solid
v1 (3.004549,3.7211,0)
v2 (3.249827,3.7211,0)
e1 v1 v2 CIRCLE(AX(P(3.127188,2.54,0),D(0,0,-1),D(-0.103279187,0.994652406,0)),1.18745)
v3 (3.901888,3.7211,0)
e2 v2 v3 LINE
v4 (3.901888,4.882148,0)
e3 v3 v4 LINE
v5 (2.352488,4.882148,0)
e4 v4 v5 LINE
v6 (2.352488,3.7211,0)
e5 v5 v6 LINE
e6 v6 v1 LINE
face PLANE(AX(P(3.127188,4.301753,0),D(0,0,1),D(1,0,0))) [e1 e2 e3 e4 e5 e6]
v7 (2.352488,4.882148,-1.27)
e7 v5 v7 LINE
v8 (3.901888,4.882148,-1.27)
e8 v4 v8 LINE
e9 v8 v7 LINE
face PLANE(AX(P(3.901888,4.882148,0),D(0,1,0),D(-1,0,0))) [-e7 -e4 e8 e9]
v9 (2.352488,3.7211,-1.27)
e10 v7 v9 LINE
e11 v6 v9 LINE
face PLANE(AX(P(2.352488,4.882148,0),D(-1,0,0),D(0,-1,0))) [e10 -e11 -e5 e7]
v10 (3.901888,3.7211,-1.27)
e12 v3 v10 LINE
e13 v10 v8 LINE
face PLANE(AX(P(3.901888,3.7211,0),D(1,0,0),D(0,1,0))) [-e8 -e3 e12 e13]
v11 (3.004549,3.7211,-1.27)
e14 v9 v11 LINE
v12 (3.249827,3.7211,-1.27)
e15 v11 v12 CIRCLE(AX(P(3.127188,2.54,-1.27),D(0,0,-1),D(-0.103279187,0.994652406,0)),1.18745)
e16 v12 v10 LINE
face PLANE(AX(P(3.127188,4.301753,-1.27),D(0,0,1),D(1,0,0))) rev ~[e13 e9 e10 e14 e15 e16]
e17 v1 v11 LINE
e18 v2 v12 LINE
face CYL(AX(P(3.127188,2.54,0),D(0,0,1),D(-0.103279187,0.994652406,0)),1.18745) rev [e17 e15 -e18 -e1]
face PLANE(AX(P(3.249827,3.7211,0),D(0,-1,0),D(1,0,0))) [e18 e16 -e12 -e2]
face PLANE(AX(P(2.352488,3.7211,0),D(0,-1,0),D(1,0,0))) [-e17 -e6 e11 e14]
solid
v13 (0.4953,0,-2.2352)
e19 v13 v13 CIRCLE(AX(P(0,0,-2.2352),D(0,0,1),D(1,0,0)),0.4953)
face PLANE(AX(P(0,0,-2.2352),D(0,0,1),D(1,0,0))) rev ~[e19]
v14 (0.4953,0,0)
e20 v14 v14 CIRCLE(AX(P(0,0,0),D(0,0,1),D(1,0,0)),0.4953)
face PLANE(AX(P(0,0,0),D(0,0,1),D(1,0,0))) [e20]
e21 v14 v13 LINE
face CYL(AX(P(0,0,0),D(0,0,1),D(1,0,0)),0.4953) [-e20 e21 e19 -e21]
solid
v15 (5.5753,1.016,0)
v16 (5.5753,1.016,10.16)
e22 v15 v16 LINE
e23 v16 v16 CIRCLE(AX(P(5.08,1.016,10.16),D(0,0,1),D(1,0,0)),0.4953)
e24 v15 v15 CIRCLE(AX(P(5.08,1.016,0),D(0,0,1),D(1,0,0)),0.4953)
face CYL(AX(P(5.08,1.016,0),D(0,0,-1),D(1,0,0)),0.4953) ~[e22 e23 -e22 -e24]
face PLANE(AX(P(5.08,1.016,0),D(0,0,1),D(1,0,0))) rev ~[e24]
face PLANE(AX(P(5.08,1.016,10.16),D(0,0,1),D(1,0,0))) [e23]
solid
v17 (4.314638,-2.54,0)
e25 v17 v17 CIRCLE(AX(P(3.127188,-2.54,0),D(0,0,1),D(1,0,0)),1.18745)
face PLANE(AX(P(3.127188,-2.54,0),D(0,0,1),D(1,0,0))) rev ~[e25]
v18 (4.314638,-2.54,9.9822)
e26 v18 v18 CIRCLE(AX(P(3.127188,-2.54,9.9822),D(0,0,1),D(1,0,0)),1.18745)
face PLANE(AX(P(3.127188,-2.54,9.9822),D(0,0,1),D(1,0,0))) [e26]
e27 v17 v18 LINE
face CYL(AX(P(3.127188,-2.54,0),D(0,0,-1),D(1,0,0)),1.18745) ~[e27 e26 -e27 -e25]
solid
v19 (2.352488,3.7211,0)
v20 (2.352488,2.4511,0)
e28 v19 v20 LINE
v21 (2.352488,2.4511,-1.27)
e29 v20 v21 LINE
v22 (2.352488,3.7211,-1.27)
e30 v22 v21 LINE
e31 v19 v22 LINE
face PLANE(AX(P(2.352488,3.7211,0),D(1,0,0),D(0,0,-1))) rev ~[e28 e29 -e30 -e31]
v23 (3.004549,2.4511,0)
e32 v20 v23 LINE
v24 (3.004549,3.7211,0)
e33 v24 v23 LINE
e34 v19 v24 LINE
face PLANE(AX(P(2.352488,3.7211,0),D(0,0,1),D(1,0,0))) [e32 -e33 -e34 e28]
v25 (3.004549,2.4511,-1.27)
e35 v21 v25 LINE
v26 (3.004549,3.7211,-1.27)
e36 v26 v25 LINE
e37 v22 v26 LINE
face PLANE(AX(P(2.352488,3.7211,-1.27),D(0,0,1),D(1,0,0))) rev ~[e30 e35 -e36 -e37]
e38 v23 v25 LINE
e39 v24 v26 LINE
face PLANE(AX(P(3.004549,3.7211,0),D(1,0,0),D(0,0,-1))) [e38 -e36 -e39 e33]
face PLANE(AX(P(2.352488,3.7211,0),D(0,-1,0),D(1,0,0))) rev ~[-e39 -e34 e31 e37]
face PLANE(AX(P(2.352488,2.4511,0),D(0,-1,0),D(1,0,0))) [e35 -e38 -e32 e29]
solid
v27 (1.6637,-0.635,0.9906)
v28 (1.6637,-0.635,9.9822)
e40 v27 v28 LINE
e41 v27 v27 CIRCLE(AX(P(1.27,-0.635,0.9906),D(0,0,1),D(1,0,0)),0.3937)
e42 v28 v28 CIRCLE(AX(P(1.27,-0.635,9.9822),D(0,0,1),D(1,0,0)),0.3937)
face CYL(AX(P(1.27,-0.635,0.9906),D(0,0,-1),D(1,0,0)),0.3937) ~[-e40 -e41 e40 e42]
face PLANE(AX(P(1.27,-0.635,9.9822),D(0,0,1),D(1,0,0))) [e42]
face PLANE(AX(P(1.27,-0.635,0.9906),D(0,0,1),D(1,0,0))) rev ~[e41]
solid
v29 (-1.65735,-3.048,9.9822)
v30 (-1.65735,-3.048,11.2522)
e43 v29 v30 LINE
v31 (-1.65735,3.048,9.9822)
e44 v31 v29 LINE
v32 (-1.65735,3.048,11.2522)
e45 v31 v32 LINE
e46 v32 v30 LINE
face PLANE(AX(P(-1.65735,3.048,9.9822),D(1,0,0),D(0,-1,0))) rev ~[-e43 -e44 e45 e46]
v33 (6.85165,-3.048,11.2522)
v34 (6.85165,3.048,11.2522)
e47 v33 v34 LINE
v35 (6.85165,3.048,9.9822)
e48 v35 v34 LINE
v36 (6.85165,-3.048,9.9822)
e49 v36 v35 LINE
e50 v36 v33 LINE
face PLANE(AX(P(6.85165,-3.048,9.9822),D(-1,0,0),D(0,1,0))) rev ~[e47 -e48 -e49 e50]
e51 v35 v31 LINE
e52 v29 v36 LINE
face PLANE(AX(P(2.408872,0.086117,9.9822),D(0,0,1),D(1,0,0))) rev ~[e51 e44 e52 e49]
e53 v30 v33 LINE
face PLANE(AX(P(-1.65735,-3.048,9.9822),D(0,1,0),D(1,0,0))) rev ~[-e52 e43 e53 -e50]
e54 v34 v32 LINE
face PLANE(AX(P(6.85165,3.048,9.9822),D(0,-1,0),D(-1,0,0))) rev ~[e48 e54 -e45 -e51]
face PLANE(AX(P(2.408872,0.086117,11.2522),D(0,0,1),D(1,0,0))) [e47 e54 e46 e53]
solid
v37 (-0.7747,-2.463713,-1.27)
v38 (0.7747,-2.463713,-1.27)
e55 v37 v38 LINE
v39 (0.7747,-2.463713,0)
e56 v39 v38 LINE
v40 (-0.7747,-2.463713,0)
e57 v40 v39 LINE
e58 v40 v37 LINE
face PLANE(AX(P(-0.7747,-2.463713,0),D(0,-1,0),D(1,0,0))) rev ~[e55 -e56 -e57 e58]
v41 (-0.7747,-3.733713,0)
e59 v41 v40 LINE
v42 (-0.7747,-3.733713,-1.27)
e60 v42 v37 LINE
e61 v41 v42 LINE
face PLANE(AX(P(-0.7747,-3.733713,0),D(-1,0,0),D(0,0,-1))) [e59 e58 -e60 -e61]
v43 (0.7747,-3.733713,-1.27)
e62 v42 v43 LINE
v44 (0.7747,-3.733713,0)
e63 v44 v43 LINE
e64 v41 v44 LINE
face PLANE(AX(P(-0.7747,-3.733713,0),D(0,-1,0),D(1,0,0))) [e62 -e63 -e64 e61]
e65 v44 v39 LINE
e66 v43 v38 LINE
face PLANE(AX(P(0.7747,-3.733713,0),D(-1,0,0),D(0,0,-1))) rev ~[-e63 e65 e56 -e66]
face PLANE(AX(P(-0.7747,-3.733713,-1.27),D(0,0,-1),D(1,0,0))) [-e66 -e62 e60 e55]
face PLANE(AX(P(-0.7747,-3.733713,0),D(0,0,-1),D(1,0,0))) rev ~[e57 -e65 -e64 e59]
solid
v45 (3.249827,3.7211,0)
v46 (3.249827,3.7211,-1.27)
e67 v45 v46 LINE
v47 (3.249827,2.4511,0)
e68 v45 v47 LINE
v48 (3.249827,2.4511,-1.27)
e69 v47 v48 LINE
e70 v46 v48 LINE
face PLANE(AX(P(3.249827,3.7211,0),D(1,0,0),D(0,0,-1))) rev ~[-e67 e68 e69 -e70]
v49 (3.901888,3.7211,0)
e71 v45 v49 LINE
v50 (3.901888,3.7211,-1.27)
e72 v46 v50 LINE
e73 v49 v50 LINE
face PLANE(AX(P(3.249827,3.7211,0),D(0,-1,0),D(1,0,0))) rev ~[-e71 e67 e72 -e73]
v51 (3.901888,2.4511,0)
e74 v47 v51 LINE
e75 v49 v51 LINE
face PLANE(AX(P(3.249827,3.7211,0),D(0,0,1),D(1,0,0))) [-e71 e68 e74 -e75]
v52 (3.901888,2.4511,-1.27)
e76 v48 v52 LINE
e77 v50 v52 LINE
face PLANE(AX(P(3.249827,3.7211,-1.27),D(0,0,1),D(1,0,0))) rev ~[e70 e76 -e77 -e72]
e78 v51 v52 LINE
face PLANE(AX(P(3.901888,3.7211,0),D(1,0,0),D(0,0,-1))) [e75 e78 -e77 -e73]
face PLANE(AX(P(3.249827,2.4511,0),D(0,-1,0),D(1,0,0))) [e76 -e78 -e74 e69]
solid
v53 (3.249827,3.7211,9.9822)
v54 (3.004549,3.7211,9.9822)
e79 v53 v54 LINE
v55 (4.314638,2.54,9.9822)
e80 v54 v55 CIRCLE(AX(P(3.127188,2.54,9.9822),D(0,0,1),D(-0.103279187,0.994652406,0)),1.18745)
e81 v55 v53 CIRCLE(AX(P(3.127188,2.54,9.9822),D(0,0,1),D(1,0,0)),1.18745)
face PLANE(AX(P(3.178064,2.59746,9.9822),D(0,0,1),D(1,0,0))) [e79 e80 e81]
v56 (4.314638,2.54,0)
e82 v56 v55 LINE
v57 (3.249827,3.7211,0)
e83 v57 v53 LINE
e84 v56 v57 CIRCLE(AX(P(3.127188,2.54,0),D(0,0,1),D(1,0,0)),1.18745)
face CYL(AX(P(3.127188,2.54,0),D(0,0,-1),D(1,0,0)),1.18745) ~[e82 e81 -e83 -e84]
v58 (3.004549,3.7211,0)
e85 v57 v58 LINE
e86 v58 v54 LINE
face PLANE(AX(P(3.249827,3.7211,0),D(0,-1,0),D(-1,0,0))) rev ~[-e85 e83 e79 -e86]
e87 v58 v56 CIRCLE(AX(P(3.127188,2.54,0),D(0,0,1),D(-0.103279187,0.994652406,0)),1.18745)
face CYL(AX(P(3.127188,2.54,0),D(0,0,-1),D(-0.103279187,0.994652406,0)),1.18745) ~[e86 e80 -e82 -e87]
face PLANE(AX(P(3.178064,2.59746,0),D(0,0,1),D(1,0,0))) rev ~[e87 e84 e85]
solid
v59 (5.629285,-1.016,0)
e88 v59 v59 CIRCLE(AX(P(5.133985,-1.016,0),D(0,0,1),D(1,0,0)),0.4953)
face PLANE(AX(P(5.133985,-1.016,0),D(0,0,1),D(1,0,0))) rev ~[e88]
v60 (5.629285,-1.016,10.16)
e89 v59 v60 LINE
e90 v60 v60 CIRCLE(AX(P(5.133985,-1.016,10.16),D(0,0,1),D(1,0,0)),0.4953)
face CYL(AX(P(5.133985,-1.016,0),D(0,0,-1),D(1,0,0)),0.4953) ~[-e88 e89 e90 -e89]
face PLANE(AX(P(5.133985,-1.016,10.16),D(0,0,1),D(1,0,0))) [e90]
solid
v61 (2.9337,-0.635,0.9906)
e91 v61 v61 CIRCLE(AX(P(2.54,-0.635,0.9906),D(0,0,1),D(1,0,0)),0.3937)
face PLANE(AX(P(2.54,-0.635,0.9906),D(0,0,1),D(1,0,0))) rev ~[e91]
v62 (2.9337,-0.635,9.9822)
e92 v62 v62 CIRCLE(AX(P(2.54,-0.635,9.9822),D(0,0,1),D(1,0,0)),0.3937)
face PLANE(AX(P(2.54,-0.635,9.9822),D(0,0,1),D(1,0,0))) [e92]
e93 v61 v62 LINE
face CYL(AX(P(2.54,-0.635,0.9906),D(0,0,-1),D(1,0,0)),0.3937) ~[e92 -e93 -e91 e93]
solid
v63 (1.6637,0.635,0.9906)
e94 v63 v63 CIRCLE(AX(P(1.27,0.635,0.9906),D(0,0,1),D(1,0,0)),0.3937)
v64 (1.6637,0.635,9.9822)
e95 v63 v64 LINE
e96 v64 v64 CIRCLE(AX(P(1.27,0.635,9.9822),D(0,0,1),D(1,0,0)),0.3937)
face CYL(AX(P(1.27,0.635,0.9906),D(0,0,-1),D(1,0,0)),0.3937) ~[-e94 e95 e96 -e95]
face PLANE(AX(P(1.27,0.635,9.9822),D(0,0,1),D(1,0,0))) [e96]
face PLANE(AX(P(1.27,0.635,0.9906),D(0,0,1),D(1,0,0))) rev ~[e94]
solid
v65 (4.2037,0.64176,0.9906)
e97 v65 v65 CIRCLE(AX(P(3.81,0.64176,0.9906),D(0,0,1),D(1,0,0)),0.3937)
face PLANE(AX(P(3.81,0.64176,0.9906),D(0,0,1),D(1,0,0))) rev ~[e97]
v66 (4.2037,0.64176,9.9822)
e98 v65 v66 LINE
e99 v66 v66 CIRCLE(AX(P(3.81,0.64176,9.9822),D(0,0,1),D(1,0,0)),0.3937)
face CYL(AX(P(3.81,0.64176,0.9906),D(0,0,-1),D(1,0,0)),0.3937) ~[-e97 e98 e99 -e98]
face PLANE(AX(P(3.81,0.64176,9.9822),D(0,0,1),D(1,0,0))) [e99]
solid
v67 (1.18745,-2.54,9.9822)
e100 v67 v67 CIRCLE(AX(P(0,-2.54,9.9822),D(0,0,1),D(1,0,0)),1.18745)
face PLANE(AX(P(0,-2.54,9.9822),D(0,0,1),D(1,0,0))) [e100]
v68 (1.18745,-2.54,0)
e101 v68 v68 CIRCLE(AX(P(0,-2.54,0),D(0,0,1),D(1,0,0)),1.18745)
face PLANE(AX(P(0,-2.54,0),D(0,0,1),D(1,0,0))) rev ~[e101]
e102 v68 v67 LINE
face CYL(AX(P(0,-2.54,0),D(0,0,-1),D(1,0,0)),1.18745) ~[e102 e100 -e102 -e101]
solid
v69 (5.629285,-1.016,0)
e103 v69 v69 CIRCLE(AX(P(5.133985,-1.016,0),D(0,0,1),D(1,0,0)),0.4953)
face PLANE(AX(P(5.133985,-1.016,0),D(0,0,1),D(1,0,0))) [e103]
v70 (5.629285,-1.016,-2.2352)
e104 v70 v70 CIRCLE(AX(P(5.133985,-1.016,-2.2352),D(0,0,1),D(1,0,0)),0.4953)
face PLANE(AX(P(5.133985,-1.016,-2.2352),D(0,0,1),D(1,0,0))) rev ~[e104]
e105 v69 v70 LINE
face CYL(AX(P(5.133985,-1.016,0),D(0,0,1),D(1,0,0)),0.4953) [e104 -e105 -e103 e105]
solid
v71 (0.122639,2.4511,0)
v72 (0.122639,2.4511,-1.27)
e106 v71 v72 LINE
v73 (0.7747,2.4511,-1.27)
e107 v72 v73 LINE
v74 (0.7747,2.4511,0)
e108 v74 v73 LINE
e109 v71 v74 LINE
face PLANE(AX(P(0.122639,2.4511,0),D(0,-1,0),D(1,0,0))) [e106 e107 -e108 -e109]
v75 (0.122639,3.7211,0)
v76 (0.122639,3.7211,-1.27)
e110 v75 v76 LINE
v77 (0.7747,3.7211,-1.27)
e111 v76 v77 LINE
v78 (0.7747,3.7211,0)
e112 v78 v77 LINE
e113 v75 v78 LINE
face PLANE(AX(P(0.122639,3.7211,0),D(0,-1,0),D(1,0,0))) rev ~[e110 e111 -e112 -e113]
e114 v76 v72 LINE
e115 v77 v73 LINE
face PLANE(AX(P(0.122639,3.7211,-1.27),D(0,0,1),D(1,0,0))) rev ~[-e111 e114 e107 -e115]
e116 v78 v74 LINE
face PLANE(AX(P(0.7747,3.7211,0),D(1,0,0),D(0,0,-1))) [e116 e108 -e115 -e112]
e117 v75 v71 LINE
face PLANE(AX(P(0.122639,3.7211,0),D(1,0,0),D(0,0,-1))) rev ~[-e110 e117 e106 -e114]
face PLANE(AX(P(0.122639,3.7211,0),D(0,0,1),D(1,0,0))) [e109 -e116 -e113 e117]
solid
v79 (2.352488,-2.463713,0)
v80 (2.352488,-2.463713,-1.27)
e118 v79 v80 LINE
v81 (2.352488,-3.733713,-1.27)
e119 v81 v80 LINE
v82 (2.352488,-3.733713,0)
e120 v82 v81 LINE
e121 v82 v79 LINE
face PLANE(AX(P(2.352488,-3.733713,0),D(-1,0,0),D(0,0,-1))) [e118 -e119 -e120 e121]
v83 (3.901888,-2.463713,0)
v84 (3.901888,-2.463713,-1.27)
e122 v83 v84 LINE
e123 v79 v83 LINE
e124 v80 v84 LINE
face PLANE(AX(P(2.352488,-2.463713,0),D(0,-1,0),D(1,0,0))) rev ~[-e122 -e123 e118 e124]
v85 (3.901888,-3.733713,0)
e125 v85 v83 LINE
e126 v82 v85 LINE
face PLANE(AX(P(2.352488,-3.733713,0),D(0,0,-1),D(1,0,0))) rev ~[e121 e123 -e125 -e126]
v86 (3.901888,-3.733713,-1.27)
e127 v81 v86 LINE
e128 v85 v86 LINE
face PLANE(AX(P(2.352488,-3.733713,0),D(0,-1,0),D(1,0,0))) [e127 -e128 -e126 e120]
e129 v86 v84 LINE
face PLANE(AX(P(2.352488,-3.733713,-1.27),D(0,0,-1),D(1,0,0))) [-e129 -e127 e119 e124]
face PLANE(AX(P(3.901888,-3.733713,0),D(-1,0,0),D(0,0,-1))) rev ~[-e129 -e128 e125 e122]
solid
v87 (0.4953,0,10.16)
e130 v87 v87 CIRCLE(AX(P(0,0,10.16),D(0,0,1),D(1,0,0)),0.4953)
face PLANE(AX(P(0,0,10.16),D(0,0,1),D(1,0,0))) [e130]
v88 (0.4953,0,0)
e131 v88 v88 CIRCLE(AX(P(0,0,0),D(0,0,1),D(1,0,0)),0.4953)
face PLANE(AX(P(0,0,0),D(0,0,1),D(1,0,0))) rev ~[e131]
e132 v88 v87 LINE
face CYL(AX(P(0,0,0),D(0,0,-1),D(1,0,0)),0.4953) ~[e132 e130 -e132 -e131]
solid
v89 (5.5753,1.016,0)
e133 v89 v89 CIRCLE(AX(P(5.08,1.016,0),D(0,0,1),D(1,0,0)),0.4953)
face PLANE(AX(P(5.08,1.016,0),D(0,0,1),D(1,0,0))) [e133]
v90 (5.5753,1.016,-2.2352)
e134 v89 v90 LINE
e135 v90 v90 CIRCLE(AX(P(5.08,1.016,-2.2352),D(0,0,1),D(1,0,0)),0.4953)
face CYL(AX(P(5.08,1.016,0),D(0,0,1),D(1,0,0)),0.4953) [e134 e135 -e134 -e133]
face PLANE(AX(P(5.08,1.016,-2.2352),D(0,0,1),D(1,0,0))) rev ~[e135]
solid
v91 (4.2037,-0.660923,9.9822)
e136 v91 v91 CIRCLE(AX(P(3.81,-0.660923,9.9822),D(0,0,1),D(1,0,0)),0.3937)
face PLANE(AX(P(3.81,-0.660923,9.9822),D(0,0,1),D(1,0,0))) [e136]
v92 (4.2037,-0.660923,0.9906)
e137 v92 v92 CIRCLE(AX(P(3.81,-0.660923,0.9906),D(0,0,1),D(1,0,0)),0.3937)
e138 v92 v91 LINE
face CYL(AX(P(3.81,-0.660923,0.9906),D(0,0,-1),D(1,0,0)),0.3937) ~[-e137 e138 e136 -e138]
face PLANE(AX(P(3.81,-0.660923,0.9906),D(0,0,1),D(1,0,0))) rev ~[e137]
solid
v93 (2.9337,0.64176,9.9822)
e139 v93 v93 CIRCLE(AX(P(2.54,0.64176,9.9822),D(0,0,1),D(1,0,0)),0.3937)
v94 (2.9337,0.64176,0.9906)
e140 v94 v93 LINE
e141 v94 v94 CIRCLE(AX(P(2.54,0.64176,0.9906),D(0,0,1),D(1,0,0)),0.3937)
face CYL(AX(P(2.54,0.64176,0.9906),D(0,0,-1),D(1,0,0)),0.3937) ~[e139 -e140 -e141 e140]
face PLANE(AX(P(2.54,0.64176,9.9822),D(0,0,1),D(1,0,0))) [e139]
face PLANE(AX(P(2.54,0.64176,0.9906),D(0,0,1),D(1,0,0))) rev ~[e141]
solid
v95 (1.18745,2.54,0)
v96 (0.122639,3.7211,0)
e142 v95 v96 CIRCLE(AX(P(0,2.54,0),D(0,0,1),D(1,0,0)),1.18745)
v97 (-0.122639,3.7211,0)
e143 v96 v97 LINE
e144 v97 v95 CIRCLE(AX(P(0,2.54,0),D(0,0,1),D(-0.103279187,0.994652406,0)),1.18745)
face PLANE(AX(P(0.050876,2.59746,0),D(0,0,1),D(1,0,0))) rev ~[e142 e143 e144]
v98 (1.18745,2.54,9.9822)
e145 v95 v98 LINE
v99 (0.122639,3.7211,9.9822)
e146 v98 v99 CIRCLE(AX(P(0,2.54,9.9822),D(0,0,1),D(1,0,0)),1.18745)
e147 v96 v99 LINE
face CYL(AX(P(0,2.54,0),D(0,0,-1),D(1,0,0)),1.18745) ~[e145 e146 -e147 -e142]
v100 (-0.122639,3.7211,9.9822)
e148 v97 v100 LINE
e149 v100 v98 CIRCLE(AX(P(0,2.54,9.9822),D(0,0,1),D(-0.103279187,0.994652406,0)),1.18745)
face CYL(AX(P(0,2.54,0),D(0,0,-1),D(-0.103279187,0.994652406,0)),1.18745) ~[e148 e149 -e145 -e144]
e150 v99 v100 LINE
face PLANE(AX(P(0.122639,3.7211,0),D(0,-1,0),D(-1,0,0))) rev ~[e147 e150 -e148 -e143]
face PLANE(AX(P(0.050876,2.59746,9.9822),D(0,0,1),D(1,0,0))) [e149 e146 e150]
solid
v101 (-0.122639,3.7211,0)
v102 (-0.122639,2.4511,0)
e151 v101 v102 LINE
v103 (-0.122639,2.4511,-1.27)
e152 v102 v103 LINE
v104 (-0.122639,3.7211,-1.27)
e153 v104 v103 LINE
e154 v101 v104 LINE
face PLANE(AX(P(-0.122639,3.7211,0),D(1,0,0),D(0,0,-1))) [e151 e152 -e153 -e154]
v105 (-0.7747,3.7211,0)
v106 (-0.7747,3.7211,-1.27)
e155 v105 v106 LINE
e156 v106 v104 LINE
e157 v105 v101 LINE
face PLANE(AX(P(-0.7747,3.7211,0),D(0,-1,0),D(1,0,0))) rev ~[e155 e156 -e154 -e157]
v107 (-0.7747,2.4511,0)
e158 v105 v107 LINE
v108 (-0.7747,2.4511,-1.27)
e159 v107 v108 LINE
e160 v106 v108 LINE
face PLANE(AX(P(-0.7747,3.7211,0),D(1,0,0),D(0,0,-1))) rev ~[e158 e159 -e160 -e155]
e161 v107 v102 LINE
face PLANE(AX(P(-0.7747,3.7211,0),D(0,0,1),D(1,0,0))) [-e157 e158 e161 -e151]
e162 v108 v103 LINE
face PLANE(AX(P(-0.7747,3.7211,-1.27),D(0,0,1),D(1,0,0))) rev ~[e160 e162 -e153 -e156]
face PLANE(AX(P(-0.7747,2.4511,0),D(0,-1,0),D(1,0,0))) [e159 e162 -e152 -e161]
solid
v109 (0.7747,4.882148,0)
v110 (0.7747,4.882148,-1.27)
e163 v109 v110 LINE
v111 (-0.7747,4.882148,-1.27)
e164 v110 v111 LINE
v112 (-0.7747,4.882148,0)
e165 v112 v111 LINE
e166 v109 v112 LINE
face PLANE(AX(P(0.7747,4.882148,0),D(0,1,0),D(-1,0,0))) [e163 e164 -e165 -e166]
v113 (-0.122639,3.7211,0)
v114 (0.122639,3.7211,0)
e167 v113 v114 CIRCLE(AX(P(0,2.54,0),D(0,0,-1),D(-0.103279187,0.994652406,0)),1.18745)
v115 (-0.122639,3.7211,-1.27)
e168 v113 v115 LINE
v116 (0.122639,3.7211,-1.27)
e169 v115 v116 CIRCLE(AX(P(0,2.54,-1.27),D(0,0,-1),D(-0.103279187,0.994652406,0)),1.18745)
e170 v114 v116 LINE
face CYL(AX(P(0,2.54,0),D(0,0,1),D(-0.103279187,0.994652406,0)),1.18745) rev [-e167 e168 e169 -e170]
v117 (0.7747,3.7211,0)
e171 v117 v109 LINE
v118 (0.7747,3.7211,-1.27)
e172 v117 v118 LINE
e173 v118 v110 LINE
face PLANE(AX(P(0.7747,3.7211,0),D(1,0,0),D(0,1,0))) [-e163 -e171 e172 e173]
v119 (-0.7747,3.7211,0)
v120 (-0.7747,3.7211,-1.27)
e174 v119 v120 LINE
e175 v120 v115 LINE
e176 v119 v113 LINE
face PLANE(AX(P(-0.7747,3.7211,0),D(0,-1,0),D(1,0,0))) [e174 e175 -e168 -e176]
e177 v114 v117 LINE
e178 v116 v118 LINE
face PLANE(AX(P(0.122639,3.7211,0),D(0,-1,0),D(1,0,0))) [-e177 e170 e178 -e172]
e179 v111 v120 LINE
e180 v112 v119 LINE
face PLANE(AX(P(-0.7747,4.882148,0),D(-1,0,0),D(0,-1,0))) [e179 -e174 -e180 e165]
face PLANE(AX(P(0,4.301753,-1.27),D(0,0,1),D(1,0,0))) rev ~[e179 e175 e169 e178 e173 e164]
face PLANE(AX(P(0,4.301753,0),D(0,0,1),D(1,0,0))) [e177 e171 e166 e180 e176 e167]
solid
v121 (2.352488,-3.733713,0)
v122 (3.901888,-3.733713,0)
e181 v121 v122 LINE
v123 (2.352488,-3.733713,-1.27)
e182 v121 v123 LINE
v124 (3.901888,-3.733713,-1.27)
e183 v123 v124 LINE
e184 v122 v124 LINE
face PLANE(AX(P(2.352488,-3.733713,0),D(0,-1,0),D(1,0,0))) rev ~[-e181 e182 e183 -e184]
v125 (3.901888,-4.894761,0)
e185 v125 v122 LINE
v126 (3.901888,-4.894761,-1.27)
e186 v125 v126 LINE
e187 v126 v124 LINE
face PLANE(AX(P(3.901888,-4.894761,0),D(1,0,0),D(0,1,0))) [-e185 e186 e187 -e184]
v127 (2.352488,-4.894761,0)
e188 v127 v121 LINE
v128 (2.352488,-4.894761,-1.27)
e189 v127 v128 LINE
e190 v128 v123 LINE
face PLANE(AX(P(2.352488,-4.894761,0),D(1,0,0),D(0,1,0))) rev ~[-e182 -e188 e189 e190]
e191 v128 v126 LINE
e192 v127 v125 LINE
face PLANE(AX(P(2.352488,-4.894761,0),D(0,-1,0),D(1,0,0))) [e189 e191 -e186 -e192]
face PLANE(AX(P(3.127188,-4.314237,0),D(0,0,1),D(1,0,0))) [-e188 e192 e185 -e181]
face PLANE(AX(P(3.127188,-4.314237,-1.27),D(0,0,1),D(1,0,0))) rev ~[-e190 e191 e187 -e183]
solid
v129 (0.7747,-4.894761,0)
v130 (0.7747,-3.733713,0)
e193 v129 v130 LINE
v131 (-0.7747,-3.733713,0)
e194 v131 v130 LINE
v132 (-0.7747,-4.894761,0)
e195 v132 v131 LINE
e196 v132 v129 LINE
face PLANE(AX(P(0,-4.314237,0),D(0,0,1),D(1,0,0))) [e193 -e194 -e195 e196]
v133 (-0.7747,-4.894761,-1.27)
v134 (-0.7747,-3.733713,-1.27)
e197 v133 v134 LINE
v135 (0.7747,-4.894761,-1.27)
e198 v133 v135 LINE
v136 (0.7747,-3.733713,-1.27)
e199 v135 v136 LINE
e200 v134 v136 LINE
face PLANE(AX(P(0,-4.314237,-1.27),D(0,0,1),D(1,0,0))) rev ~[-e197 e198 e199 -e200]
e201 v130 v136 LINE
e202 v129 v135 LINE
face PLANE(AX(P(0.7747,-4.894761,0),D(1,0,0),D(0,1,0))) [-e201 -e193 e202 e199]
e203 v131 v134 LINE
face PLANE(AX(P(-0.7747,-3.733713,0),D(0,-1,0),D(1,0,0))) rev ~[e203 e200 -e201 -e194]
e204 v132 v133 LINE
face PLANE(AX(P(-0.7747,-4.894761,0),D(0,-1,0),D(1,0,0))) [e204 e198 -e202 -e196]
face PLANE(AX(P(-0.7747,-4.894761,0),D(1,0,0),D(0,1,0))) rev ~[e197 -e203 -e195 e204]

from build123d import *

# Parameters (mm, degrees)
F1_DEPTH = 1.27
F0_W     = 1.5494
F0_H     = 1.161047956
F0_R     = 0.4953
F2_DEPTH = 2.2352
F0_R_2   = 1.18745
F3_DEPTH = 9.9822
F4_DEPTH = 1.27
F5_DEPTH = 1.27
F6_START = 0.9906
F0_R_3   = 0.3937
F6_DEPTH = 8.9916
F8_DEPTH = 1.27
F9_DEPTH = 10.16


with BuildPart() as f1:
    # F0 (on Top) → F1 (new body)
    with BuildSketch(Plane.XY):
        with BuildLine():
            ThreePointArc((-0.1226388703, 3.7211), (0, 3.72745), (0.1226388703, 3.7211))
            Line((0.1226388703, 3.7211), (0.7747, 3.7211))
            Line((0.7747, 3.7211), (0.7747, 4.882147956))
            Line((0.7747, 4.882147956), (-0.7747, 4.882147956))
            Line((-0.7747, 4.882147956), (-0.7747, 3.7211))
            Line((-0.7747, 3.7211), (-0.1226388703, 3.7211))
        make_face()
    extrude(amount=-F1_DEPTH)


with BuildPart() as f1b:
    # F0 (on Top) → F1, piece 2 (new body)
    with BuildSketch(Plane.XY):
        with BuildLine():
            ThreePointArc((3.0045490859, 3.7211), (3.1271879561, 3.72745), (3.2498268264, 3.7211))
            Line((3.2498268264, 3.7211), (3.9018879561, 3.7211))
            Line((3.9018879561, 3.7211), (3.9018879561, 4.882147956))
            Line((3.9018879561, 4.882147956), (2.3524879561, 4.882147956))
            Line((2.3524879561, 4.882147956), (2.3524879561, 3.7211))
            Line((2.3524879561, 3.7211), (3.0045490859, 3.7211))
        make_face()
    extrude(amount=-F1_DEPTH)


with BuildPart() as f1c:
    # F0 (on Top) → F1, piece 3 (new body)
    with BuildSketch(Plane.XY):
        with Locations((0, -4.3142373906)):
            Rectangle(F0_W, F0_H)
    extrude(amount=-F1_DEPTH)


with BuildPart() as f1d:
    # F0 (on Top) → F1, piece 4 (new body)
    with BuildSketch(Plane.XY):
        with Locations((3.1271879561, -4.3142373906)):
            Rectangle(F0_W, F0_H)
    extrude(amount=-F1_DEPTH)


with BuildPart() as f2:
    # F0 (on Top) → F2 (new body)
    with BuildSketch(Plane.XY):
        with Locations((5.1339846104, -1.016)):
            Circle(F0_R)
    extrude(amount=-F2_DEPTH)


with BuildPart() as f2b:
    # F0 (on Top) → F2, piece 2 (new body)
    with BuildSketch(Plane.XY):
        with Locations((5.08, 1.016)):
            Circle(F0_R)
    extrude(amount=-F2_DEPTH)


with BuildPart() as f2c:
    # F0 (on Top) → F2, piece 3 (new body)
    with BuildSketch(Plane.XY):
        Circle(F0_R)
    extrude(amount=-F2_DEPTH)


with BuildPart() as f3:
    # F0 (on Top) → F3 (new body)
    with BuildSketch(Plane.XY):
        with Locations((0, -2.54)):
            Circle(F0_R_2)
        with Locations((3.1271879561, -2.54)):
            Circle(F0_R_2)
        with BuildLine():
            ThreePointArc((3.0045490859, 3.7211), (2.3320747642, 1.6580518641), (4.3146379561, 2.54))
            ThreePointArc((4.3146379561, 2.54), (4.0091360921, 3.3351131919), (3.2498268264, 3.7211))
            Line((3.2498268264, 3.7211), (3.0045490859, 3.7211))
        make_face()
        with BuildLine():
            ThreePointArc((-0.1226388703, 3.7211), (-0.7951131919, 1.6580518641), (1.18745, 2.54))
            ThreePointArc((1.18745, 2.54), (0.8819481359, 3.3351131919), (0.1226388703, 3.7211))
            Line((0.1226388703, 3.7211), (-0.1226388703, 3.7211))
        make_face()
    extrude(amount=F3_DEPTH)


with BuildPart() as f4:
    # F4 (new): a face of the model
    f4_faces = [f1.part.faces().sort_by_distance(p)[0] for p in [
        (0.4486694351, 3.7211, -0.635),
    ]]
    extrude(f4_faces, amount=F4_DEPTH)


with BuildPart() as f4b:
    # F4#2 (new): a face of the model
    f4_2_faces = [f1.part.faces().sort_by_distance(p)[0] for p in [
        (-0.4486694351, 3.7211, -0.635),
    ]]
    extrude(f4_2_faces, amount=F4_DEPTH)


with BuildPart() as f4c:
    # F4#3 (new): a face of the model
    f4_3_faces = [f1b.part.faces().sort_by_distance(p)[0] for p in [
        (2.678518521, 3.7211, -0.635),
    ]]
    extrude(f4_3_faces, amount=F4_DEPTH)


with BuildPart() as f4d:
    # F4#4 (new): a face of the model
    f4_4_faces = [f1b.part.faces().sort_by_distance(p)[0] for p in [
        (3.5758573913, 3.7211, -0.635),
    ]]
    extrude(f4_4_faces, amount=F4_DEPTH)


with BuildPart() as f5:
    # F5 (new): a face of the model
    f5_faces = [f1c.part.faces().sort_by_distance(p)[0] for p in [
        (0, -3.7337134127, -0.635),
    ]]
    extrude(f5_faces, amount=F5_DEPTH)


with BuildPart() as f5b:
    # F5#2 (new): a face of the model
    f5_2_faces = [f1d.part.faces().sort_by_distance(p)[0] for p in [
        (3.1271879561, -3.7337134127, -0.635),
    ]]
    extrude(f5_2_faces, amount=F5_DEPTH)


with BuildPart() as f6:
    # F0 (on Top) → F6 (new body)
    with BuildSketch(Plane.XY.offset(F6_START)):
        with Locations((3.81, -0.660923452)):
            Circle(F0_R_3)
    extrude(amount=F6_DEPTH)


with BuildPart() as f6b:
    # F0 (on Top) → F6, piece 2 (new body)
    with BuildSketch(Plane.XY.offset(F6_START)):
        with Locations((3.81, 0.6417604301)):
            Circle(F0_R_3)
    extrude(amount=F6_DEPTH)


with BuildPart() as f6c:
    # F0 (on Top) → F6, piece 3 (new body)
    with BuildSketch(Plane.XY.offset(F6_START)):
        with Locations((2.54, 0.6417604301)):
            Circle(F0_R_3)
    extrude(amount=F6_DEPTH)


with BuildPart() as f6d:
    # F0 (on Top) → F6, piece 4 (new body)
    with BuildSketch(Plane.XY.offset(F6_START)):
        with Locations((2.54, -0.635)):
            Circle(F0_R_3)
    extrude(amount=F6_DEPTH)


with BuildPart() as f6e:
    # F0 (on Top) → F6, piece 5 (new body)
    with BuildSketch(Plane.XY.offset(F6_START)):
        with Locations((1.27, -0.635)):
            Circle(F0_R_3)
    extrude(amount=F6_DEPTH)


with BuildPart() as f6f:
    # F0 (on Top) → F6, piece 6 (new body)
    with BuildSketch(Plane.XY.offset(F6_START)):
        with Locations((1.27, 0.635)):
            Circle(F0_R_3)
    extrude(amount=F6_DEPTH)


with BuildPart() as f8:
    # F7 (on face) → F8 (new body)
    with BuildSketch(Plane.XY.offset(9.9822)):
        with BuildLine():
            Line((6.85165, -3.048), (6.85165, 3.048))
            Line((6.85165, 3.048), (1.0733002853, 3.048))
            ThreePointArc((1.0733002853, 3.048), (0, 1.35255), (-1.0733002853, 3.048))
            Line((-1.0733002853, 3.048), (-1.65735, 3.048))
            Line((-1.65735, 3.048), (-1.65735, -3.048))
            Line((-1.65735, -3.048), (6.85165, -3.048))
        make_face()
        with BuildLine():
            ThreePointArc((-1.0733002853, 3.048), (0, 1.35255), (1.0733002853, 3.048))
            Line((1.0733002853, 3.048), (-1.0733002853, 3.048))
        make_face()
    extrude(amount=F8_DEPTH)


with BuildPart() as f9:
    # F0 (on Top) → F9 (new body)
    with BuildSketch(Plane.XY):
        Circle(F0_R)
    extrude(amount=F9_DEPTH)


with BuildPart() as f9b:
    # F0 (on Top) → F9, piece 2 (new body)
    with BuildSketch(Plane.XY):
        with Locations((5.08, 1.016)):
            Circle(F0_R)
    extrude(amount=F9_DEPTH)


with BuildPart() as f9c:
    # F0 (on Top) → F9, piece 3 (new body)
    with BuildSketch(Plane.XY):
        with Locations((5.1339846104, -1.016)):
            Circle(F0_R)
    extrude(amount=F9_DEPTH)


solid = Compound([f1.part, f1b.part, f1c.part, f1d.part, f2.part, f2b.part, f2c.part, f3.part, f4.part, f4b.part, f4c.part, f4d.part, f5.part, f5b.part, f6.part, f6b.part, f6c.part, f6d.part, f6e.part, f6f.part, f8.part, f9.part, f9b.part, f9c.part])
